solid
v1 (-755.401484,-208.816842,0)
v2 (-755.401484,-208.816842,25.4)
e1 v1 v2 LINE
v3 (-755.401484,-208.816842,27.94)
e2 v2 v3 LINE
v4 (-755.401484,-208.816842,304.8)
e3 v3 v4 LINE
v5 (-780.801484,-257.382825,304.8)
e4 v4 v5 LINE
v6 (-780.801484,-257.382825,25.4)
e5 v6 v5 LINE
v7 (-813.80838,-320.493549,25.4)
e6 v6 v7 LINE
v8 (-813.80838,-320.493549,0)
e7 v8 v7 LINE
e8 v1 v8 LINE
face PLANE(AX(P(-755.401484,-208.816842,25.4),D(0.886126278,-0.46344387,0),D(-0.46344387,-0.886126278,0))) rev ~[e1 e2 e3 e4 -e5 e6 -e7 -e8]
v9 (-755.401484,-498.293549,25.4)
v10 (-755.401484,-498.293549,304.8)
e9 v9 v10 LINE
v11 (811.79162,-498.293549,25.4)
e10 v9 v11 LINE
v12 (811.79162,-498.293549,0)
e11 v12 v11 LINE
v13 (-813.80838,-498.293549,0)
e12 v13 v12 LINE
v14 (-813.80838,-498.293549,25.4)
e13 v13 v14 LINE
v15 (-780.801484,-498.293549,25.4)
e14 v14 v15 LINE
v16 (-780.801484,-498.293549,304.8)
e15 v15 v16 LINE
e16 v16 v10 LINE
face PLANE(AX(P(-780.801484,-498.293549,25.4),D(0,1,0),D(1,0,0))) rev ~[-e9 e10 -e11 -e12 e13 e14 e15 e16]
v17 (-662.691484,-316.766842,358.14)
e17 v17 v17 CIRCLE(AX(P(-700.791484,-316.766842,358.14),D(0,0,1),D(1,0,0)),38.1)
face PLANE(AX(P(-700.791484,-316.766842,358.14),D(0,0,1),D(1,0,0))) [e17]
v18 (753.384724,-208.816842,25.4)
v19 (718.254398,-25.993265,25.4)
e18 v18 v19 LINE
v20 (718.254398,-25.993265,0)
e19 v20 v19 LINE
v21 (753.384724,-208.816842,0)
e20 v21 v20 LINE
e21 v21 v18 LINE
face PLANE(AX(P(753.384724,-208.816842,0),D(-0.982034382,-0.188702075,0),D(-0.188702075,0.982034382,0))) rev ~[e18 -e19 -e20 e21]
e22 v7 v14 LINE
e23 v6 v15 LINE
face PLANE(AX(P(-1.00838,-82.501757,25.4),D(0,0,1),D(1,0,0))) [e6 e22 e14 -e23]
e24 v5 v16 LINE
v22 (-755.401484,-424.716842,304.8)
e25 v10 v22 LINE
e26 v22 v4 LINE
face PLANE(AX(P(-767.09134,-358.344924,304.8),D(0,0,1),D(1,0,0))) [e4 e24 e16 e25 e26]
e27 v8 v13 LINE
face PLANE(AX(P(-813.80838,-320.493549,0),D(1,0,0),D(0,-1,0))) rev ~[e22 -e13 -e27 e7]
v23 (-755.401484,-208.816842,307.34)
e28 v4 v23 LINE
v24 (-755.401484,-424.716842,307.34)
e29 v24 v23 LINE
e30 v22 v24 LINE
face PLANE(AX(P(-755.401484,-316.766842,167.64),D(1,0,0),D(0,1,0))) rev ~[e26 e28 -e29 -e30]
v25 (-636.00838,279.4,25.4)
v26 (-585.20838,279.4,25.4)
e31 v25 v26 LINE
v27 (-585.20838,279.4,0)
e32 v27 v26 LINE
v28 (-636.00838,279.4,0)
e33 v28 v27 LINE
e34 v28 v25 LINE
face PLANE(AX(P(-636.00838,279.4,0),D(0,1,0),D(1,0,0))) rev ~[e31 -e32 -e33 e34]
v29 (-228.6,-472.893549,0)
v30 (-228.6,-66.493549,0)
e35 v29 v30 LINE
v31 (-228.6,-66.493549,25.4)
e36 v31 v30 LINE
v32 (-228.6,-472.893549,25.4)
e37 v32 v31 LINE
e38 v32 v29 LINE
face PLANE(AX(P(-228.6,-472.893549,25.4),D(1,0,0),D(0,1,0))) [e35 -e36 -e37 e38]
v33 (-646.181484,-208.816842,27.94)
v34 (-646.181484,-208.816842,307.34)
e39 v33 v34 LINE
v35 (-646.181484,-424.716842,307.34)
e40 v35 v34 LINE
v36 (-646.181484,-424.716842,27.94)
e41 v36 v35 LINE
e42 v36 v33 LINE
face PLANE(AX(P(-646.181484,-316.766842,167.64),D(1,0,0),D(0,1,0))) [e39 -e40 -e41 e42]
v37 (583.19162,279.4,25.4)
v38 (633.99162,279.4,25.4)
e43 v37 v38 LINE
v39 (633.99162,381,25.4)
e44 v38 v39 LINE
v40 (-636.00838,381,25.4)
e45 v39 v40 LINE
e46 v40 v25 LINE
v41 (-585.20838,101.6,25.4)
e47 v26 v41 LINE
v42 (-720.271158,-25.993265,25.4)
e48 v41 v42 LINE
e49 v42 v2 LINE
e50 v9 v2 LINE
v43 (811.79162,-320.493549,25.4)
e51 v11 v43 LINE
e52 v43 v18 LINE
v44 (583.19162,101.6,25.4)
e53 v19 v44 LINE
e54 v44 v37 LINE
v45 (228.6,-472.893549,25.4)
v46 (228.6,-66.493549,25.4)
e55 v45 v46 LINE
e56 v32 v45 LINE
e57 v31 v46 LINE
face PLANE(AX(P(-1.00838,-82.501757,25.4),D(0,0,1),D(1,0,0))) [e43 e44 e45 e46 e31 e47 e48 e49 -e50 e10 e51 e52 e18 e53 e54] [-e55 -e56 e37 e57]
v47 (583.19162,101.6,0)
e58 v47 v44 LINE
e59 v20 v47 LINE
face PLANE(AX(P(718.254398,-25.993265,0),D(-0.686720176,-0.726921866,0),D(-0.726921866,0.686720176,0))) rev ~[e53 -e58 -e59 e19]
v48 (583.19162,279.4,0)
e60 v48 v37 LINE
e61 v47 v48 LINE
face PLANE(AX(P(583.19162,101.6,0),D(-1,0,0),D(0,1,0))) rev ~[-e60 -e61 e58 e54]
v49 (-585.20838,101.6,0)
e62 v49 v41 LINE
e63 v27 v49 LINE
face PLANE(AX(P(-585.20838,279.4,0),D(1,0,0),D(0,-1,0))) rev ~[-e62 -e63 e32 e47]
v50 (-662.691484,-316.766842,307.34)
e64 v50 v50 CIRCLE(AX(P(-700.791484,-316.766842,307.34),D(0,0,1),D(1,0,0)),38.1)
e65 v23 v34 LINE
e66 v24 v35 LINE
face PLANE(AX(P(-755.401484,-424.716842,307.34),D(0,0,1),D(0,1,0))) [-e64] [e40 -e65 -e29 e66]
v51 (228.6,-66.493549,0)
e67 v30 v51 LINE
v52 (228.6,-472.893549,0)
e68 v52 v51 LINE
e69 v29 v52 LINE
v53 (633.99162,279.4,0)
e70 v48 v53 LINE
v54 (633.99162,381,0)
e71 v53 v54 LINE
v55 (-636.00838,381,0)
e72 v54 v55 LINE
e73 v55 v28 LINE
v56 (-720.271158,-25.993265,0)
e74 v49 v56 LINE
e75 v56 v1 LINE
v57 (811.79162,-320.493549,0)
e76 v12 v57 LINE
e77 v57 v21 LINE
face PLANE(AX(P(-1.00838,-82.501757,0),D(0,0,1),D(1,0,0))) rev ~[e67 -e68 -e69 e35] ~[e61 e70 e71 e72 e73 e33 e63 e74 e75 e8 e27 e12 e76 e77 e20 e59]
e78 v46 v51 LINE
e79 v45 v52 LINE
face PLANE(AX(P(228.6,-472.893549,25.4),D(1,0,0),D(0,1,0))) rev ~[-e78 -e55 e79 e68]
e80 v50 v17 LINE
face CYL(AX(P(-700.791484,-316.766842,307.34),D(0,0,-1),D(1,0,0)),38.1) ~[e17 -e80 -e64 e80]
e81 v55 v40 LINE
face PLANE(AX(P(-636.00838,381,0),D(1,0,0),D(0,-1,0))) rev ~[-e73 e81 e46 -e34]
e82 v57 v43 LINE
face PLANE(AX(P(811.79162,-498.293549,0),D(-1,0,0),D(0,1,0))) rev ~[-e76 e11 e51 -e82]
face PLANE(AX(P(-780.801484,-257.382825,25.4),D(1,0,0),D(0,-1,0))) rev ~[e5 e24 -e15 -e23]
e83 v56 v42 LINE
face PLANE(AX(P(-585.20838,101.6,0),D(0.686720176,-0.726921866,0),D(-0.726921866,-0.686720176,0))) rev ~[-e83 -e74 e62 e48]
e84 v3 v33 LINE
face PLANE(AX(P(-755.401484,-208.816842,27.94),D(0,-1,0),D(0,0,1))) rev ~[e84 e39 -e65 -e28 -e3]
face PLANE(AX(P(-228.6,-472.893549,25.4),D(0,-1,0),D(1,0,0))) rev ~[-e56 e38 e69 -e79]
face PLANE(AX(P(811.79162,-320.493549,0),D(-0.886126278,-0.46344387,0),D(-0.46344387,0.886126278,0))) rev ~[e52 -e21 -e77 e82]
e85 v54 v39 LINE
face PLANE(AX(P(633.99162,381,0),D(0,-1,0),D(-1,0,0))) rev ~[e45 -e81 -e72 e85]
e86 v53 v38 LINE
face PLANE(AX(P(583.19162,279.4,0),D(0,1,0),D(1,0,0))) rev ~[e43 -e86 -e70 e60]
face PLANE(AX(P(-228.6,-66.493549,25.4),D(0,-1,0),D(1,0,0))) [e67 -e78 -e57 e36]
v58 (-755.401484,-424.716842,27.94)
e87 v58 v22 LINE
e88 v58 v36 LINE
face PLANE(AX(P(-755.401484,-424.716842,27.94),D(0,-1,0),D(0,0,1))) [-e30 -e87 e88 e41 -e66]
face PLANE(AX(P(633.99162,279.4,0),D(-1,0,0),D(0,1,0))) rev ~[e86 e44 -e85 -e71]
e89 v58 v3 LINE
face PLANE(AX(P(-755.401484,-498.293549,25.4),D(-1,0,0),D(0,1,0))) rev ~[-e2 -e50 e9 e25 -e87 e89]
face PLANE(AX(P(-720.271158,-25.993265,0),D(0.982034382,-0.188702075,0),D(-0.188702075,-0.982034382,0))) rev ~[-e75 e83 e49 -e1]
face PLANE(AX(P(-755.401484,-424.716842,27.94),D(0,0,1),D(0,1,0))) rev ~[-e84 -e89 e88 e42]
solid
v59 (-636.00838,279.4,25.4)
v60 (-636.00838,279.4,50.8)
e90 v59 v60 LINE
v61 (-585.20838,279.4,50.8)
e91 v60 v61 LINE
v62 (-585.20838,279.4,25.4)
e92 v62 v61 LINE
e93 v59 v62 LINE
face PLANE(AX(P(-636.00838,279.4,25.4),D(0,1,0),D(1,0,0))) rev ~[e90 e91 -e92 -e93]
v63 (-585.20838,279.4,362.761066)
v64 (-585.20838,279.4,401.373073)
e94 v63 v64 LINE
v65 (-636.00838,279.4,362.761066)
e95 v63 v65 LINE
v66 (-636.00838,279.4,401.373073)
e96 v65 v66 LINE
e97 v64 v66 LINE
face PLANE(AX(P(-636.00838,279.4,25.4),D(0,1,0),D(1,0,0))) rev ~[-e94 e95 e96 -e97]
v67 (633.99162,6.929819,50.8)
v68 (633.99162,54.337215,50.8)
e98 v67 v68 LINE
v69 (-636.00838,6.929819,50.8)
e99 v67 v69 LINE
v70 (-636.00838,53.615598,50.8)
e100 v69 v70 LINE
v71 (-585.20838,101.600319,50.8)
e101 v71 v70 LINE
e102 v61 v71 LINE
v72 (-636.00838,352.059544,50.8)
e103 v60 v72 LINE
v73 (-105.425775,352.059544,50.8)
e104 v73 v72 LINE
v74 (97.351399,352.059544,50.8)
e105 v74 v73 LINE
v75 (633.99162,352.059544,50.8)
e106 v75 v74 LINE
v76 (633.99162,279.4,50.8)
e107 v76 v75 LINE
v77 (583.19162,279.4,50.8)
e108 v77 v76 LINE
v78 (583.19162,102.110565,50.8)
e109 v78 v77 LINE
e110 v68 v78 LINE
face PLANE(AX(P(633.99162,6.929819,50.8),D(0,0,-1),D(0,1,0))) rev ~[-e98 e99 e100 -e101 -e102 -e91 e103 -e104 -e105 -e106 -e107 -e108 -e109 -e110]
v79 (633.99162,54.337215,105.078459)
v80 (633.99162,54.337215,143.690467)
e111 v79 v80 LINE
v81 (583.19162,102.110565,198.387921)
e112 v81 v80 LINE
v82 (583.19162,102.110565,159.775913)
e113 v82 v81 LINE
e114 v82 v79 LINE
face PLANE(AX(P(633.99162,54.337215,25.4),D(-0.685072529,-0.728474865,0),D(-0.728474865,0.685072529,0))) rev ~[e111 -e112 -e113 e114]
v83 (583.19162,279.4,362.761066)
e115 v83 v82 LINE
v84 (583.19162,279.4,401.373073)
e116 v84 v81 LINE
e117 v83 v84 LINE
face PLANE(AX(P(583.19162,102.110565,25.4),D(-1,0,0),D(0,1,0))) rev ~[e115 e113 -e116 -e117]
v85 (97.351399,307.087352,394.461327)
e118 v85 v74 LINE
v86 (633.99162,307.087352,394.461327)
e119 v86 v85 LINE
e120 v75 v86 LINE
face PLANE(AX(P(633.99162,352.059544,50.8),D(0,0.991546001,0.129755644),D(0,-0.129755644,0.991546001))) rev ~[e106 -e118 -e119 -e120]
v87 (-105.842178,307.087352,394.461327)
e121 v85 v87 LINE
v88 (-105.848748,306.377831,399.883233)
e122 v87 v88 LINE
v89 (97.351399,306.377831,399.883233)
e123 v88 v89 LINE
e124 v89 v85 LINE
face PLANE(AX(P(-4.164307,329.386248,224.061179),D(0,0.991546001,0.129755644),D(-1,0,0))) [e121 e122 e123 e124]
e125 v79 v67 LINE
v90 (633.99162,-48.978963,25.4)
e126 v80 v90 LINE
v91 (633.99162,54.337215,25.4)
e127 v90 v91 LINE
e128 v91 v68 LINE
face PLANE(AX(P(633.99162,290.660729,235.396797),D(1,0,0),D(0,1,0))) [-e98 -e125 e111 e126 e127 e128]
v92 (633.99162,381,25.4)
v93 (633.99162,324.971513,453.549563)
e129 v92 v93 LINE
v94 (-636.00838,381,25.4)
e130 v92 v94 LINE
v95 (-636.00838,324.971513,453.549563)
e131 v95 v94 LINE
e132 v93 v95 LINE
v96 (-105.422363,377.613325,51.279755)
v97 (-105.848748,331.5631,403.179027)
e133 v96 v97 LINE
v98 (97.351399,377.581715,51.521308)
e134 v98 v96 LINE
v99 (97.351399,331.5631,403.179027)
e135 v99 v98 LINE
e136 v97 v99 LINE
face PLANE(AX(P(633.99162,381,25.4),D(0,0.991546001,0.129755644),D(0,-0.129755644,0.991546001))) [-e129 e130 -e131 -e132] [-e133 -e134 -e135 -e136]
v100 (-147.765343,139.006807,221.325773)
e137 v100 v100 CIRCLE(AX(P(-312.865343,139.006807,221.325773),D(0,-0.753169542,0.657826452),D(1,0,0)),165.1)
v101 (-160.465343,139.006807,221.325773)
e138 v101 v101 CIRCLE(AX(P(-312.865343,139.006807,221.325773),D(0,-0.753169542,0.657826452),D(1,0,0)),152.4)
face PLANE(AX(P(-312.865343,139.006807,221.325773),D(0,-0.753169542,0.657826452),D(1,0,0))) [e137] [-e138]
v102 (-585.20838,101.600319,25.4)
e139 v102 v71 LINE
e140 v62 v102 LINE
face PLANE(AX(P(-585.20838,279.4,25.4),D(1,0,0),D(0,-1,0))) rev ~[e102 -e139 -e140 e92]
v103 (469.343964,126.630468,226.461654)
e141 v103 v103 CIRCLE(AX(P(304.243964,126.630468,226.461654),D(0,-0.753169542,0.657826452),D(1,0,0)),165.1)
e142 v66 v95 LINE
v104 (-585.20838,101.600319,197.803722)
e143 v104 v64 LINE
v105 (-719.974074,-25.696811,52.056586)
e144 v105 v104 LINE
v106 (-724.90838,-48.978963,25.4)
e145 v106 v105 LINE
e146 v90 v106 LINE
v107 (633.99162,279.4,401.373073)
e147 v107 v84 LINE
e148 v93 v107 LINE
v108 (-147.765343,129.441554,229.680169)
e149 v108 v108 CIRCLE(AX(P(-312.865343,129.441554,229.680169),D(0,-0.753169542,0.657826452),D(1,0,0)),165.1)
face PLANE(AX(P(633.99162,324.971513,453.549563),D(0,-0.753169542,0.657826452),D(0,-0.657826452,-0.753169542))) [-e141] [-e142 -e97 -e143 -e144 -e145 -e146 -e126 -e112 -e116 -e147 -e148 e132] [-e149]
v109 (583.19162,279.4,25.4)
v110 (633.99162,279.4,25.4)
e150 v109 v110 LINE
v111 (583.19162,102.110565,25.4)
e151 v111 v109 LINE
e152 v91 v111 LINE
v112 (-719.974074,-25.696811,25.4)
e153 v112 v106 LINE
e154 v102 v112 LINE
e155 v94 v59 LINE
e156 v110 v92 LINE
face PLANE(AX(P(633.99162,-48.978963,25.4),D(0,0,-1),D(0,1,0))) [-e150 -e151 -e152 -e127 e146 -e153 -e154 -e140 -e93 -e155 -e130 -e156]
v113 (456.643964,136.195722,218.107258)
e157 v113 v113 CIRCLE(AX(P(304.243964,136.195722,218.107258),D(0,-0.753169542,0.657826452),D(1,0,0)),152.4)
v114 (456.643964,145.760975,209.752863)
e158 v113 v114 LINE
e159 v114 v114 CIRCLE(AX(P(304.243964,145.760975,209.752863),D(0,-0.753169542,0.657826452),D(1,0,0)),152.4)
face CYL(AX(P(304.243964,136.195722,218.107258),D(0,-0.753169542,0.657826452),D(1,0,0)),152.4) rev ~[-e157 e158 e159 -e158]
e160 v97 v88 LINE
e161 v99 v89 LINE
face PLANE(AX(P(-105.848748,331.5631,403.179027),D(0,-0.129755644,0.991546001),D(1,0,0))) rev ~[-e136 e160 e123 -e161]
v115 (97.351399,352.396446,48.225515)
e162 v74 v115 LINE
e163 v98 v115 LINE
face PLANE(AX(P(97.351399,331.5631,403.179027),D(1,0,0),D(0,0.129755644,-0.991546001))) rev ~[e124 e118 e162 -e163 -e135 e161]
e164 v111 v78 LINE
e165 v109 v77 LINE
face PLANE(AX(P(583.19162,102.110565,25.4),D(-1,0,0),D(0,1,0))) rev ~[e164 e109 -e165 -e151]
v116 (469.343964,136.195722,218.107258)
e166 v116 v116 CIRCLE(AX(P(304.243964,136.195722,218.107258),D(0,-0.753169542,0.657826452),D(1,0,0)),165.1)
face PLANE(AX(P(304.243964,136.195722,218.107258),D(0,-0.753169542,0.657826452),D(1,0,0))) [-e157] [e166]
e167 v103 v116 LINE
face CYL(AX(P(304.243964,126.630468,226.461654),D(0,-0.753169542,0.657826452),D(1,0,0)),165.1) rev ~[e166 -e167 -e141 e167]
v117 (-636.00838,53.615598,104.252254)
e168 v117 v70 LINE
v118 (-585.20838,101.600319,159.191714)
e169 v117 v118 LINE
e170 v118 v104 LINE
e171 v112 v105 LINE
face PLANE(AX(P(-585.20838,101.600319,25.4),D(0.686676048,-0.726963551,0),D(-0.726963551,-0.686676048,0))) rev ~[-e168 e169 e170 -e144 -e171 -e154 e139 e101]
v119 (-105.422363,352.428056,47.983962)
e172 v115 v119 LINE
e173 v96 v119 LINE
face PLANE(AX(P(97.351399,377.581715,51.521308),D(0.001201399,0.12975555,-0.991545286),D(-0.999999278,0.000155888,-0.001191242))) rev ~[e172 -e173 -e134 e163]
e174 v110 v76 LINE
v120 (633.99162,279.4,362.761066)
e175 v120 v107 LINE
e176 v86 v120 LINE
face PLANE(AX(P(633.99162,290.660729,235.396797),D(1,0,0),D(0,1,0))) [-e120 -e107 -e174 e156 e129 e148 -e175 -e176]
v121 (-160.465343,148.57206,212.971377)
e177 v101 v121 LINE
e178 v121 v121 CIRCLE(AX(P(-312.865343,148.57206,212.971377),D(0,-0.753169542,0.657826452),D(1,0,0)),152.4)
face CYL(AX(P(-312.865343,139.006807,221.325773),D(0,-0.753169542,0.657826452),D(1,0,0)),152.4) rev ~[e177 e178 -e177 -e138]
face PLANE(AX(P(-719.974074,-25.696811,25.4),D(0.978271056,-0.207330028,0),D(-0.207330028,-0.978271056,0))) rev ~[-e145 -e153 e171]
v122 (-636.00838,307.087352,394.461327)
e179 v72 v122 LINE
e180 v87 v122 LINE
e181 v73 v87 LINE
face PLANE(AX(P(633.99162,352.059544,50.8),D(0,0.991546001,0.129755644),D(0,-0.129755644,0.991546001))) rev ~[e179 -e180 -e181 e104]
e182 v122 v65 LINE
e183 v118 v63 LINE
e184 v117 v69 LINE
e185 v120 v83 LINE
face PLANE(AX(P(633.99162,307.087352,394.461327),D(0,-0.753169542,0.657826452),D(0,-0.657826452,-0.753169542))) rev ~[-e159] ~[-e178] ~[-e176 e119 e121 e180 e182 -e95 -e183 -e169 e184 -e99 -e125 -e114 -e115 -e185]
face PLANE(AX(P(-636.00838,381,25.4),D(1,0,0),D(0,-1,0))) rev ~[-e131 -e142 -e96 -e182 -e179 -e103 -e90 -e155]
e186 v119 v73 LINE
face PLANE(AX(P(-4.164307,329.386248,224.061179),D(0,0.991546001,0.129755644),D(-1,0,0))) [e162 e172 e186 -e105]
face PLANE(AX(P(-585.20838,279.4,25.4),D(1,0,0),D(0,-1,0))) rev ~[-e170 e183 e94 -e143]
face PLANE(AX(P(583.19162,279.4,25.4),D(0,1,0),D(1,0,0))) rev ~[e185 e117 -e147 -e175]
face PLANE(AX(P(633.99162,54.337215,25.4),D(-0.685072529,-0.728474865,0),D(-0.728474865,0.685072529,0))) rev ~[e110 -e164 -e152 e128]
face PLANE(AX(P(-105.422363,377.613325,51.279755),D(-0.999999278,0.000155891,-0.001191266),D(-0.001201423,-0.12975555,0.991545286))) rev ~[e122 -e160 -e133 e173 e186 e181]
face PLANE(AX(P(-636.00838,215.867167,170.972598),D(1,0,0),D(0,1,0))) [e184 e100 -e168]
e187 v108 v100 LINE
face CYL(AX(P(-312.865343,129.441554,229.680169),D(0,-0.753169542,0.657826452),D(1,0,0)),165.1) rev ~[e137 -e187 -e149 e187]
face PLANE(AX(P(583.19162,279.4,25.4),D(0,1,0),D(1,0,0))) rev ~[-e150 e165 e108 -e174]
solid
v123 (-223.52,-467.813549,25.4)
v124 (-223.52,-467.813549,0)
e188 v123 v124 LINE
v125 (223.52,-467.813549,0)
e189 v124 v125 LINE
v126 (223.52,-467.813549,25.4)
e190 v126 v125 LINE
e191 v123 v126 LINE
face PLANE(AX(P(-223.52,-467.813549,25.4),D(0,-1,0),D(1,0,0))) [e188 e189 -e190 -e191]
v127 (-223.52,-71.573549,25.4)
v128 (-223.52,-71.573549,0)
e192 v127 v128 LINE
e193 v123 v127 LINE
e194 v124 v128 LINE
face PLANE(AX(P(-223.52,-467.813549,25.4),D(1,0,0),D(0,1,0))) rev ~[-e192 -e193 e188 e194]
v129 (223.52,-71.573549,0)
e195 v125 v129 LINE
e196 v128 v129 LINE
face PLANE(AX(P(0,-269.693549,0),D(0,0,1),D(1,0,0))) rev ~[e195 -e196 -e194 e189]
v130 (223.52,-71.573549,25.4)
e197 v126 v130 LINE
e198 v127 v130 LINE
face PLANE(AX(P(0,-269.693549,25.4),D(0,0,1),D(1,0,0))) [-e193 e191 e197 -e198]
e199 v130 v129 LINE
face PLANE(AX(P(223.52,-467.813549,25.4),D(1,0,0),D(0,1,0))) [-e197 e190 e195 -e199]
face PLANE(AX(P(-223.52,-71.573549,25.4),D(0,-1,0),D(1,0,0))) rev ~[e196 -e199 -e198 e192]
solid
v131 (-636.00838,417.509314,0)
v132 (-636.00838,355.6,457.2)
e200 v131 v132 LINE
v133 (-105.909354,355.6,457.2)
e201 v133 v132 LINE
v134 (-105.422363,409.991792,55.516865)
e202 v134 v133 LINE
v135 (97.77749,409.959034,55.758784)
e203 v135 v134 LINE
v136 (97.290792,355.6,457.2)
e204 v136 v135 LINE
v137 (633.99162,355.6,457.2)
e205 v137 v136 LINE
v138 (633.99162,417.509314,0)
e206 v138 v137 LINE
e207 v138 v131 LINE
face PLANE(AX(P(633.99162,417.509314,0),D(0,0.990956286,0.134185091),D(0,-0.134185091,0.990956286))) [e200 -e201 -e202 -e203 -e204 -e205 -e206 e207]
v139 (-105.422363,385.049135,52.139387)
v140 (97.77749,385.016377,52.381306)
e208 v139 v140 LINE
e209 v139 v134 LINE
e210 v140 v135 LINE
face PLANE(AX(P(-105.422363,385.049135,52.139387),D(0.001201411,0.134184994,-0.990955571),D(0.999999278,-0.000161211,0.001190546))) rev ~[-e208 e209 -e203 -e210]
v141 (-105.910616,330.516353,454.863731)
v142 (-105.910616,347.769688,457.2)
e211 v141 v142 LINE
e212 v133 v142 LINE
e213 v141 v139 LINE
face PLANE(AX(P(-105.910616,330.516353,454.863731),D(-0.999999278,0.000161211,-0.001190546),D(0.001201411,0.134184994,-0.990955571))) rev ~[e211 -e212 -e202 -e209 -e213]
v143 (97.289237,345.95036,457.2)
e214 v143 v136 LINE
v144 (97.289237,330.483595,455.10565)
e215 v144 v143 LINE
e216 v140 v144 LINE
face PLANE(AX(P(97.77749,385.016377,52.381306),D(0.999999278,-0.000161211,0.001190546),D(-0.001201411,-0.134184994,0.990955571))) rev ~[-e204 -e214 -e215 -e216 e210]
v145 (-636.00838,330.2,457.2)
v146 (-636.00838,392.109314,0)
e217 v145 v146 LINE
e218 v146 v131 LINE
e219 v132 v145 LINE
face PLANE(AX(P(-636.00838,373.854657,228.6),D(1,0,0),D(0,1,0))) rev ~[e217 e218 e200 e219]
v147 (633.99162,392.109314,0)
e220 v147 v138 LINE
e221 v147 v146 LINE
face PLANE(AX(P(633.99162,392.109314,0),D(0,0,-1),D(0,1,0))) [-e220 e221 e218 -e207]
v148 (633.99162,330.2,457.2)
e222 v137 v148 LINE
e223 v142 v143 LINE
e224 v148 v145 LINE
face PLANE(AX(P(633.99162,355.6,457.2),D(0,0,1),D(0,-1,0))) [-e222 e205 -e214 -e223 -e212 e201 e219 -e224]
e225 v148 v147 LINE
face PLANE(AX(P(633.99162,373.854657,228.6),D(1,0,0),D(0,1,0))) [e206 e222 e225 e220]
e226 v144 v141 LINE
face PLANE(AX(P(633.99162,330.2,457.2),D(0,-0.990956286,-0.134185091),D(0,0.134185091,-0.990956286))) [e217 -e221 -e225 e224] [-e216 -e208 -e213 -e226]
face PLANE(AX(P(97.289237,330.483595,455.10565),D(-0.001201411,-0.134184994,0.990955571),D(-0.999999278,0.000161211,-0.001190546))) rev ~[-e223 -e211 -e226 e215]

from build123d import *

# Parameters (mm, degrees)
F1_DEPTH  = 25.4
F3_DEPTH  = 1270
F5_DEPTH  = 25.4
F6_W      = 457.2
F6_H      = 406.4
F7_DEPTH  = 25.4
F8_W      = 447.04
F8_H      = 396.24
F9_DEPTH  = 25.4
F11_DEPTH = 1358.9
F12_R     = 165.1
F13_DEPTH = 12.7
F15_DEPTH = 1270
F17_DEPTH = 25.4
F18_R     = 152.4
F19_DEPTH = 25.4
F21_DEPTH = 508
F23_DEPTH = 279.4
F24_W     = 215.9
F24_H     = 279.4
F25_DEPTH = 109.22
F26_R     = 38.1
F27_DEPTH = 50.8


with BuildPart() as f1:
    # F0 (on Top) → F1 (new body)
    with BuildSketch(Plane.XY):
        Polygon((633.9916200739, 381), (-636.0083799261, 381), (-636.0083799261, 279.4), (-585.2083799261, 279.4), (-585.2083799261, 101.6), (-720.2711577423, -25.9932654437), (-755.401483878, -208.8168415053), (-813.8083799261, -320.4935488224), (-813.8083799261, -498.2935488224), (-636.0083799261, -498.2935488224), (633.9916200739, -498.2935488224), (811.7916200739, -498.2935488224), (811.7916200739, -320.4935488224), (753.3847240259, -208.8168415053), (718.2543978901, -25.9932654437), (583.1916200739, 101.6), (583.1916200739, 279.4), (633.9916200739, 279.4), align=None)
    extrude(amount=F1_DEPTH)

    # F6 (on face) → F7 (cut)
    with BuildSketch(Plane.XY.offset(25.4)):
        with Locations((0, -269.6935488224)):
            Rectangle(F6_W, F6_H)
    extrude(amount=-F7_DEPTH, mode=Mode.SUBTRACT)

    # F22 (on face) → F23 (join)
    with BuildSketch(Plane.XY.offset(25.4)):
        Polygon((-755.401483878, -498.2935488224), (-755.401483878, -208.8168415053), (-780.801483878, -257.3828252809), (-780.801483878, -498.2935488224), align=None)
    extrude(amount=F23_DEPTH)

    # F24 (on face) → F25 (join)
    with BuildSketch(Plane.YZ.offset(-755.401483878)):
        with Locations((-316.7668415053, 167.64)):
            Rectangle(F24_W, F24_H)
    extrude(amount=F25_DEPTH)

    # F26 (on face) → F27 (join)
    with BuildSketch(Plane.XY.offset(307.34)):
        with Locations((-700.791483878, -316.7668415053)):
            Circle(F26_R)
    extrude(amount=F27_DEPTH)


with BuildPart() as f3:
    # F2 (on face) → F3 (new body)
    with BuildSketch(Plane.YZ.offset(633.9916200739)):
        Polygon((355.6, 457.2), (330.2, 457.2), (392.1093138361, 0), (417.5093138361, 0), align=None)
    extrude(amount=-F3_DEPTH)

    # F4 (on face) → F5 (cut)
    with BuildSketch(Plane(origin=(0, 385.0491351938, 52.1393870364), x_dir=(1, 0, 0), z_dir=(0, -0.9909562863, -0.1341850913))):
        Polygon((97.7774903124, 0.2441267287), (97.289236855, 406.6438334321), (-4.3187378932, 406.5217603986), (-4.3187378932, 0.1214671018), align=None)
        Polygon((-4.3187378932, 0.1214671018), (-4.3187378932, 406.5217603986), (-105.9106164967, 406.3997067033), (-105.4223630393, 0), align=None)
    extrude(amount=-F5_DEPTH, mode=Mode.SUBTRACT)


with BuildPart() as f9:
    # F8 (on face) → F9 (new body)
    with BuildSketch(Plane.XY.offset(25.4)):
        with Locations((0, -269.6935488224)):
            Rectangle(F8_W, F8_H)
    extrude(amount=-F9_DEPTH)


with BuildPart() as f11:
    # F10 (on face) → F11 (new body)
    with BuildSketch(Plane.YZ.offset(633.9916200739)):
        Polygon((137.9962750452, 239.4747816958), (381, 25.4), (324.9715128924, 453.5495633916), align=None)
        Polygon((-48.9789628019, 25.4), (381, 25.4), (137.9962750452, 239.4747816958), align=None)
    extrude(amount=-F11_DEPTH)

    # F12 (on face) → F13 (cut)
    with BuildSketch(Plane(origin=(0, -40.3685730448, 35.2583498477), x_dir=(1, 0, 0), z_dir=(0, -0.7531695417, 0.6578264524))):
        with Locations((304.2439635869, 253.8648922865)):
            Circle(F12_R)
        with Locations((-312.8653432209, 258.1381852401)):
            Circle(F12_R)
    extrude(amount=-F13_DEPTH, mode=Mode.SUBTRACT)

    # F14 (on face) → F15 (cut)
    with BuildSketch(Plane.YZ.offset(633.9916200739)):
        Polygon((352.0595440659, 50.8), (307.0873524009, 394.4613269455), (6.9298194327, 50.8), align=None)
    extrude(amount=-F15_DEPTH, mode=Mode.SUBTRACT)

    # F16 (on face) → F17 (cut)
    with BuildSketch(Plane(origin=(0, 377.8532138761, 49.446608691), x_dir=(-1, 0, 0), z_dir=(0, 0.9915460014, 0.1297556441))):
        Polygon((105.8487479012, 356.7483680457), (-97.3513987472, 356.7483680457), (-97.3513987472, 2.0923885114), (105.4223630393, 1.8487761264), align=None)
    extrude(amount=-F17_DEPTH, mode=Mode.SUBTRACT)

    # F18 (on face) → F19 (cut)
    with BuildSketch(Plane(origin=(0, -30.8033198656, 26.9039539021), x_dir=(1, 0, 0), z_dir=(0, -0.7531695417, 0.6578264524))):
        with Locations((304.2439635869, 253.8648922865)):
            Circle(F18_R)
        with Locations((-312.8653432209, 258.1381852401)):
            Circle(F18_R)
    extrude(amount=-F19_DEPTH, mode=Mode.SUBTRACT)

    # F20 (on face) → F21 (cut)
    with BuildSketch(Plane(origin=(0, 0, 25.4), x_dir=(1, 0, 0), z_dir=(0, 0, -1))):
        Polygon((583.1916200739, -102.1105647087), (583.1916200739, -279.4), (633.9916200739, -279.4), (633.9916200739, -54.3372150012), align=None)
        Polygon((-636.0083799261, -381), (-636.0083799261, -279.4), (-585.2083799261, -279.4), (-585.2083799261, -101.6003191471), (-719.9740735159, 25.6968111728), (-724.9083799261, 48.9789628019), (-724.9083799261, -381), align=None)
    extrude(amount=-F21_DEPTH, mode=Mode.SUBTRACT)


solid = Compound([f1.part, f3.part, f9.part, f11.part])
